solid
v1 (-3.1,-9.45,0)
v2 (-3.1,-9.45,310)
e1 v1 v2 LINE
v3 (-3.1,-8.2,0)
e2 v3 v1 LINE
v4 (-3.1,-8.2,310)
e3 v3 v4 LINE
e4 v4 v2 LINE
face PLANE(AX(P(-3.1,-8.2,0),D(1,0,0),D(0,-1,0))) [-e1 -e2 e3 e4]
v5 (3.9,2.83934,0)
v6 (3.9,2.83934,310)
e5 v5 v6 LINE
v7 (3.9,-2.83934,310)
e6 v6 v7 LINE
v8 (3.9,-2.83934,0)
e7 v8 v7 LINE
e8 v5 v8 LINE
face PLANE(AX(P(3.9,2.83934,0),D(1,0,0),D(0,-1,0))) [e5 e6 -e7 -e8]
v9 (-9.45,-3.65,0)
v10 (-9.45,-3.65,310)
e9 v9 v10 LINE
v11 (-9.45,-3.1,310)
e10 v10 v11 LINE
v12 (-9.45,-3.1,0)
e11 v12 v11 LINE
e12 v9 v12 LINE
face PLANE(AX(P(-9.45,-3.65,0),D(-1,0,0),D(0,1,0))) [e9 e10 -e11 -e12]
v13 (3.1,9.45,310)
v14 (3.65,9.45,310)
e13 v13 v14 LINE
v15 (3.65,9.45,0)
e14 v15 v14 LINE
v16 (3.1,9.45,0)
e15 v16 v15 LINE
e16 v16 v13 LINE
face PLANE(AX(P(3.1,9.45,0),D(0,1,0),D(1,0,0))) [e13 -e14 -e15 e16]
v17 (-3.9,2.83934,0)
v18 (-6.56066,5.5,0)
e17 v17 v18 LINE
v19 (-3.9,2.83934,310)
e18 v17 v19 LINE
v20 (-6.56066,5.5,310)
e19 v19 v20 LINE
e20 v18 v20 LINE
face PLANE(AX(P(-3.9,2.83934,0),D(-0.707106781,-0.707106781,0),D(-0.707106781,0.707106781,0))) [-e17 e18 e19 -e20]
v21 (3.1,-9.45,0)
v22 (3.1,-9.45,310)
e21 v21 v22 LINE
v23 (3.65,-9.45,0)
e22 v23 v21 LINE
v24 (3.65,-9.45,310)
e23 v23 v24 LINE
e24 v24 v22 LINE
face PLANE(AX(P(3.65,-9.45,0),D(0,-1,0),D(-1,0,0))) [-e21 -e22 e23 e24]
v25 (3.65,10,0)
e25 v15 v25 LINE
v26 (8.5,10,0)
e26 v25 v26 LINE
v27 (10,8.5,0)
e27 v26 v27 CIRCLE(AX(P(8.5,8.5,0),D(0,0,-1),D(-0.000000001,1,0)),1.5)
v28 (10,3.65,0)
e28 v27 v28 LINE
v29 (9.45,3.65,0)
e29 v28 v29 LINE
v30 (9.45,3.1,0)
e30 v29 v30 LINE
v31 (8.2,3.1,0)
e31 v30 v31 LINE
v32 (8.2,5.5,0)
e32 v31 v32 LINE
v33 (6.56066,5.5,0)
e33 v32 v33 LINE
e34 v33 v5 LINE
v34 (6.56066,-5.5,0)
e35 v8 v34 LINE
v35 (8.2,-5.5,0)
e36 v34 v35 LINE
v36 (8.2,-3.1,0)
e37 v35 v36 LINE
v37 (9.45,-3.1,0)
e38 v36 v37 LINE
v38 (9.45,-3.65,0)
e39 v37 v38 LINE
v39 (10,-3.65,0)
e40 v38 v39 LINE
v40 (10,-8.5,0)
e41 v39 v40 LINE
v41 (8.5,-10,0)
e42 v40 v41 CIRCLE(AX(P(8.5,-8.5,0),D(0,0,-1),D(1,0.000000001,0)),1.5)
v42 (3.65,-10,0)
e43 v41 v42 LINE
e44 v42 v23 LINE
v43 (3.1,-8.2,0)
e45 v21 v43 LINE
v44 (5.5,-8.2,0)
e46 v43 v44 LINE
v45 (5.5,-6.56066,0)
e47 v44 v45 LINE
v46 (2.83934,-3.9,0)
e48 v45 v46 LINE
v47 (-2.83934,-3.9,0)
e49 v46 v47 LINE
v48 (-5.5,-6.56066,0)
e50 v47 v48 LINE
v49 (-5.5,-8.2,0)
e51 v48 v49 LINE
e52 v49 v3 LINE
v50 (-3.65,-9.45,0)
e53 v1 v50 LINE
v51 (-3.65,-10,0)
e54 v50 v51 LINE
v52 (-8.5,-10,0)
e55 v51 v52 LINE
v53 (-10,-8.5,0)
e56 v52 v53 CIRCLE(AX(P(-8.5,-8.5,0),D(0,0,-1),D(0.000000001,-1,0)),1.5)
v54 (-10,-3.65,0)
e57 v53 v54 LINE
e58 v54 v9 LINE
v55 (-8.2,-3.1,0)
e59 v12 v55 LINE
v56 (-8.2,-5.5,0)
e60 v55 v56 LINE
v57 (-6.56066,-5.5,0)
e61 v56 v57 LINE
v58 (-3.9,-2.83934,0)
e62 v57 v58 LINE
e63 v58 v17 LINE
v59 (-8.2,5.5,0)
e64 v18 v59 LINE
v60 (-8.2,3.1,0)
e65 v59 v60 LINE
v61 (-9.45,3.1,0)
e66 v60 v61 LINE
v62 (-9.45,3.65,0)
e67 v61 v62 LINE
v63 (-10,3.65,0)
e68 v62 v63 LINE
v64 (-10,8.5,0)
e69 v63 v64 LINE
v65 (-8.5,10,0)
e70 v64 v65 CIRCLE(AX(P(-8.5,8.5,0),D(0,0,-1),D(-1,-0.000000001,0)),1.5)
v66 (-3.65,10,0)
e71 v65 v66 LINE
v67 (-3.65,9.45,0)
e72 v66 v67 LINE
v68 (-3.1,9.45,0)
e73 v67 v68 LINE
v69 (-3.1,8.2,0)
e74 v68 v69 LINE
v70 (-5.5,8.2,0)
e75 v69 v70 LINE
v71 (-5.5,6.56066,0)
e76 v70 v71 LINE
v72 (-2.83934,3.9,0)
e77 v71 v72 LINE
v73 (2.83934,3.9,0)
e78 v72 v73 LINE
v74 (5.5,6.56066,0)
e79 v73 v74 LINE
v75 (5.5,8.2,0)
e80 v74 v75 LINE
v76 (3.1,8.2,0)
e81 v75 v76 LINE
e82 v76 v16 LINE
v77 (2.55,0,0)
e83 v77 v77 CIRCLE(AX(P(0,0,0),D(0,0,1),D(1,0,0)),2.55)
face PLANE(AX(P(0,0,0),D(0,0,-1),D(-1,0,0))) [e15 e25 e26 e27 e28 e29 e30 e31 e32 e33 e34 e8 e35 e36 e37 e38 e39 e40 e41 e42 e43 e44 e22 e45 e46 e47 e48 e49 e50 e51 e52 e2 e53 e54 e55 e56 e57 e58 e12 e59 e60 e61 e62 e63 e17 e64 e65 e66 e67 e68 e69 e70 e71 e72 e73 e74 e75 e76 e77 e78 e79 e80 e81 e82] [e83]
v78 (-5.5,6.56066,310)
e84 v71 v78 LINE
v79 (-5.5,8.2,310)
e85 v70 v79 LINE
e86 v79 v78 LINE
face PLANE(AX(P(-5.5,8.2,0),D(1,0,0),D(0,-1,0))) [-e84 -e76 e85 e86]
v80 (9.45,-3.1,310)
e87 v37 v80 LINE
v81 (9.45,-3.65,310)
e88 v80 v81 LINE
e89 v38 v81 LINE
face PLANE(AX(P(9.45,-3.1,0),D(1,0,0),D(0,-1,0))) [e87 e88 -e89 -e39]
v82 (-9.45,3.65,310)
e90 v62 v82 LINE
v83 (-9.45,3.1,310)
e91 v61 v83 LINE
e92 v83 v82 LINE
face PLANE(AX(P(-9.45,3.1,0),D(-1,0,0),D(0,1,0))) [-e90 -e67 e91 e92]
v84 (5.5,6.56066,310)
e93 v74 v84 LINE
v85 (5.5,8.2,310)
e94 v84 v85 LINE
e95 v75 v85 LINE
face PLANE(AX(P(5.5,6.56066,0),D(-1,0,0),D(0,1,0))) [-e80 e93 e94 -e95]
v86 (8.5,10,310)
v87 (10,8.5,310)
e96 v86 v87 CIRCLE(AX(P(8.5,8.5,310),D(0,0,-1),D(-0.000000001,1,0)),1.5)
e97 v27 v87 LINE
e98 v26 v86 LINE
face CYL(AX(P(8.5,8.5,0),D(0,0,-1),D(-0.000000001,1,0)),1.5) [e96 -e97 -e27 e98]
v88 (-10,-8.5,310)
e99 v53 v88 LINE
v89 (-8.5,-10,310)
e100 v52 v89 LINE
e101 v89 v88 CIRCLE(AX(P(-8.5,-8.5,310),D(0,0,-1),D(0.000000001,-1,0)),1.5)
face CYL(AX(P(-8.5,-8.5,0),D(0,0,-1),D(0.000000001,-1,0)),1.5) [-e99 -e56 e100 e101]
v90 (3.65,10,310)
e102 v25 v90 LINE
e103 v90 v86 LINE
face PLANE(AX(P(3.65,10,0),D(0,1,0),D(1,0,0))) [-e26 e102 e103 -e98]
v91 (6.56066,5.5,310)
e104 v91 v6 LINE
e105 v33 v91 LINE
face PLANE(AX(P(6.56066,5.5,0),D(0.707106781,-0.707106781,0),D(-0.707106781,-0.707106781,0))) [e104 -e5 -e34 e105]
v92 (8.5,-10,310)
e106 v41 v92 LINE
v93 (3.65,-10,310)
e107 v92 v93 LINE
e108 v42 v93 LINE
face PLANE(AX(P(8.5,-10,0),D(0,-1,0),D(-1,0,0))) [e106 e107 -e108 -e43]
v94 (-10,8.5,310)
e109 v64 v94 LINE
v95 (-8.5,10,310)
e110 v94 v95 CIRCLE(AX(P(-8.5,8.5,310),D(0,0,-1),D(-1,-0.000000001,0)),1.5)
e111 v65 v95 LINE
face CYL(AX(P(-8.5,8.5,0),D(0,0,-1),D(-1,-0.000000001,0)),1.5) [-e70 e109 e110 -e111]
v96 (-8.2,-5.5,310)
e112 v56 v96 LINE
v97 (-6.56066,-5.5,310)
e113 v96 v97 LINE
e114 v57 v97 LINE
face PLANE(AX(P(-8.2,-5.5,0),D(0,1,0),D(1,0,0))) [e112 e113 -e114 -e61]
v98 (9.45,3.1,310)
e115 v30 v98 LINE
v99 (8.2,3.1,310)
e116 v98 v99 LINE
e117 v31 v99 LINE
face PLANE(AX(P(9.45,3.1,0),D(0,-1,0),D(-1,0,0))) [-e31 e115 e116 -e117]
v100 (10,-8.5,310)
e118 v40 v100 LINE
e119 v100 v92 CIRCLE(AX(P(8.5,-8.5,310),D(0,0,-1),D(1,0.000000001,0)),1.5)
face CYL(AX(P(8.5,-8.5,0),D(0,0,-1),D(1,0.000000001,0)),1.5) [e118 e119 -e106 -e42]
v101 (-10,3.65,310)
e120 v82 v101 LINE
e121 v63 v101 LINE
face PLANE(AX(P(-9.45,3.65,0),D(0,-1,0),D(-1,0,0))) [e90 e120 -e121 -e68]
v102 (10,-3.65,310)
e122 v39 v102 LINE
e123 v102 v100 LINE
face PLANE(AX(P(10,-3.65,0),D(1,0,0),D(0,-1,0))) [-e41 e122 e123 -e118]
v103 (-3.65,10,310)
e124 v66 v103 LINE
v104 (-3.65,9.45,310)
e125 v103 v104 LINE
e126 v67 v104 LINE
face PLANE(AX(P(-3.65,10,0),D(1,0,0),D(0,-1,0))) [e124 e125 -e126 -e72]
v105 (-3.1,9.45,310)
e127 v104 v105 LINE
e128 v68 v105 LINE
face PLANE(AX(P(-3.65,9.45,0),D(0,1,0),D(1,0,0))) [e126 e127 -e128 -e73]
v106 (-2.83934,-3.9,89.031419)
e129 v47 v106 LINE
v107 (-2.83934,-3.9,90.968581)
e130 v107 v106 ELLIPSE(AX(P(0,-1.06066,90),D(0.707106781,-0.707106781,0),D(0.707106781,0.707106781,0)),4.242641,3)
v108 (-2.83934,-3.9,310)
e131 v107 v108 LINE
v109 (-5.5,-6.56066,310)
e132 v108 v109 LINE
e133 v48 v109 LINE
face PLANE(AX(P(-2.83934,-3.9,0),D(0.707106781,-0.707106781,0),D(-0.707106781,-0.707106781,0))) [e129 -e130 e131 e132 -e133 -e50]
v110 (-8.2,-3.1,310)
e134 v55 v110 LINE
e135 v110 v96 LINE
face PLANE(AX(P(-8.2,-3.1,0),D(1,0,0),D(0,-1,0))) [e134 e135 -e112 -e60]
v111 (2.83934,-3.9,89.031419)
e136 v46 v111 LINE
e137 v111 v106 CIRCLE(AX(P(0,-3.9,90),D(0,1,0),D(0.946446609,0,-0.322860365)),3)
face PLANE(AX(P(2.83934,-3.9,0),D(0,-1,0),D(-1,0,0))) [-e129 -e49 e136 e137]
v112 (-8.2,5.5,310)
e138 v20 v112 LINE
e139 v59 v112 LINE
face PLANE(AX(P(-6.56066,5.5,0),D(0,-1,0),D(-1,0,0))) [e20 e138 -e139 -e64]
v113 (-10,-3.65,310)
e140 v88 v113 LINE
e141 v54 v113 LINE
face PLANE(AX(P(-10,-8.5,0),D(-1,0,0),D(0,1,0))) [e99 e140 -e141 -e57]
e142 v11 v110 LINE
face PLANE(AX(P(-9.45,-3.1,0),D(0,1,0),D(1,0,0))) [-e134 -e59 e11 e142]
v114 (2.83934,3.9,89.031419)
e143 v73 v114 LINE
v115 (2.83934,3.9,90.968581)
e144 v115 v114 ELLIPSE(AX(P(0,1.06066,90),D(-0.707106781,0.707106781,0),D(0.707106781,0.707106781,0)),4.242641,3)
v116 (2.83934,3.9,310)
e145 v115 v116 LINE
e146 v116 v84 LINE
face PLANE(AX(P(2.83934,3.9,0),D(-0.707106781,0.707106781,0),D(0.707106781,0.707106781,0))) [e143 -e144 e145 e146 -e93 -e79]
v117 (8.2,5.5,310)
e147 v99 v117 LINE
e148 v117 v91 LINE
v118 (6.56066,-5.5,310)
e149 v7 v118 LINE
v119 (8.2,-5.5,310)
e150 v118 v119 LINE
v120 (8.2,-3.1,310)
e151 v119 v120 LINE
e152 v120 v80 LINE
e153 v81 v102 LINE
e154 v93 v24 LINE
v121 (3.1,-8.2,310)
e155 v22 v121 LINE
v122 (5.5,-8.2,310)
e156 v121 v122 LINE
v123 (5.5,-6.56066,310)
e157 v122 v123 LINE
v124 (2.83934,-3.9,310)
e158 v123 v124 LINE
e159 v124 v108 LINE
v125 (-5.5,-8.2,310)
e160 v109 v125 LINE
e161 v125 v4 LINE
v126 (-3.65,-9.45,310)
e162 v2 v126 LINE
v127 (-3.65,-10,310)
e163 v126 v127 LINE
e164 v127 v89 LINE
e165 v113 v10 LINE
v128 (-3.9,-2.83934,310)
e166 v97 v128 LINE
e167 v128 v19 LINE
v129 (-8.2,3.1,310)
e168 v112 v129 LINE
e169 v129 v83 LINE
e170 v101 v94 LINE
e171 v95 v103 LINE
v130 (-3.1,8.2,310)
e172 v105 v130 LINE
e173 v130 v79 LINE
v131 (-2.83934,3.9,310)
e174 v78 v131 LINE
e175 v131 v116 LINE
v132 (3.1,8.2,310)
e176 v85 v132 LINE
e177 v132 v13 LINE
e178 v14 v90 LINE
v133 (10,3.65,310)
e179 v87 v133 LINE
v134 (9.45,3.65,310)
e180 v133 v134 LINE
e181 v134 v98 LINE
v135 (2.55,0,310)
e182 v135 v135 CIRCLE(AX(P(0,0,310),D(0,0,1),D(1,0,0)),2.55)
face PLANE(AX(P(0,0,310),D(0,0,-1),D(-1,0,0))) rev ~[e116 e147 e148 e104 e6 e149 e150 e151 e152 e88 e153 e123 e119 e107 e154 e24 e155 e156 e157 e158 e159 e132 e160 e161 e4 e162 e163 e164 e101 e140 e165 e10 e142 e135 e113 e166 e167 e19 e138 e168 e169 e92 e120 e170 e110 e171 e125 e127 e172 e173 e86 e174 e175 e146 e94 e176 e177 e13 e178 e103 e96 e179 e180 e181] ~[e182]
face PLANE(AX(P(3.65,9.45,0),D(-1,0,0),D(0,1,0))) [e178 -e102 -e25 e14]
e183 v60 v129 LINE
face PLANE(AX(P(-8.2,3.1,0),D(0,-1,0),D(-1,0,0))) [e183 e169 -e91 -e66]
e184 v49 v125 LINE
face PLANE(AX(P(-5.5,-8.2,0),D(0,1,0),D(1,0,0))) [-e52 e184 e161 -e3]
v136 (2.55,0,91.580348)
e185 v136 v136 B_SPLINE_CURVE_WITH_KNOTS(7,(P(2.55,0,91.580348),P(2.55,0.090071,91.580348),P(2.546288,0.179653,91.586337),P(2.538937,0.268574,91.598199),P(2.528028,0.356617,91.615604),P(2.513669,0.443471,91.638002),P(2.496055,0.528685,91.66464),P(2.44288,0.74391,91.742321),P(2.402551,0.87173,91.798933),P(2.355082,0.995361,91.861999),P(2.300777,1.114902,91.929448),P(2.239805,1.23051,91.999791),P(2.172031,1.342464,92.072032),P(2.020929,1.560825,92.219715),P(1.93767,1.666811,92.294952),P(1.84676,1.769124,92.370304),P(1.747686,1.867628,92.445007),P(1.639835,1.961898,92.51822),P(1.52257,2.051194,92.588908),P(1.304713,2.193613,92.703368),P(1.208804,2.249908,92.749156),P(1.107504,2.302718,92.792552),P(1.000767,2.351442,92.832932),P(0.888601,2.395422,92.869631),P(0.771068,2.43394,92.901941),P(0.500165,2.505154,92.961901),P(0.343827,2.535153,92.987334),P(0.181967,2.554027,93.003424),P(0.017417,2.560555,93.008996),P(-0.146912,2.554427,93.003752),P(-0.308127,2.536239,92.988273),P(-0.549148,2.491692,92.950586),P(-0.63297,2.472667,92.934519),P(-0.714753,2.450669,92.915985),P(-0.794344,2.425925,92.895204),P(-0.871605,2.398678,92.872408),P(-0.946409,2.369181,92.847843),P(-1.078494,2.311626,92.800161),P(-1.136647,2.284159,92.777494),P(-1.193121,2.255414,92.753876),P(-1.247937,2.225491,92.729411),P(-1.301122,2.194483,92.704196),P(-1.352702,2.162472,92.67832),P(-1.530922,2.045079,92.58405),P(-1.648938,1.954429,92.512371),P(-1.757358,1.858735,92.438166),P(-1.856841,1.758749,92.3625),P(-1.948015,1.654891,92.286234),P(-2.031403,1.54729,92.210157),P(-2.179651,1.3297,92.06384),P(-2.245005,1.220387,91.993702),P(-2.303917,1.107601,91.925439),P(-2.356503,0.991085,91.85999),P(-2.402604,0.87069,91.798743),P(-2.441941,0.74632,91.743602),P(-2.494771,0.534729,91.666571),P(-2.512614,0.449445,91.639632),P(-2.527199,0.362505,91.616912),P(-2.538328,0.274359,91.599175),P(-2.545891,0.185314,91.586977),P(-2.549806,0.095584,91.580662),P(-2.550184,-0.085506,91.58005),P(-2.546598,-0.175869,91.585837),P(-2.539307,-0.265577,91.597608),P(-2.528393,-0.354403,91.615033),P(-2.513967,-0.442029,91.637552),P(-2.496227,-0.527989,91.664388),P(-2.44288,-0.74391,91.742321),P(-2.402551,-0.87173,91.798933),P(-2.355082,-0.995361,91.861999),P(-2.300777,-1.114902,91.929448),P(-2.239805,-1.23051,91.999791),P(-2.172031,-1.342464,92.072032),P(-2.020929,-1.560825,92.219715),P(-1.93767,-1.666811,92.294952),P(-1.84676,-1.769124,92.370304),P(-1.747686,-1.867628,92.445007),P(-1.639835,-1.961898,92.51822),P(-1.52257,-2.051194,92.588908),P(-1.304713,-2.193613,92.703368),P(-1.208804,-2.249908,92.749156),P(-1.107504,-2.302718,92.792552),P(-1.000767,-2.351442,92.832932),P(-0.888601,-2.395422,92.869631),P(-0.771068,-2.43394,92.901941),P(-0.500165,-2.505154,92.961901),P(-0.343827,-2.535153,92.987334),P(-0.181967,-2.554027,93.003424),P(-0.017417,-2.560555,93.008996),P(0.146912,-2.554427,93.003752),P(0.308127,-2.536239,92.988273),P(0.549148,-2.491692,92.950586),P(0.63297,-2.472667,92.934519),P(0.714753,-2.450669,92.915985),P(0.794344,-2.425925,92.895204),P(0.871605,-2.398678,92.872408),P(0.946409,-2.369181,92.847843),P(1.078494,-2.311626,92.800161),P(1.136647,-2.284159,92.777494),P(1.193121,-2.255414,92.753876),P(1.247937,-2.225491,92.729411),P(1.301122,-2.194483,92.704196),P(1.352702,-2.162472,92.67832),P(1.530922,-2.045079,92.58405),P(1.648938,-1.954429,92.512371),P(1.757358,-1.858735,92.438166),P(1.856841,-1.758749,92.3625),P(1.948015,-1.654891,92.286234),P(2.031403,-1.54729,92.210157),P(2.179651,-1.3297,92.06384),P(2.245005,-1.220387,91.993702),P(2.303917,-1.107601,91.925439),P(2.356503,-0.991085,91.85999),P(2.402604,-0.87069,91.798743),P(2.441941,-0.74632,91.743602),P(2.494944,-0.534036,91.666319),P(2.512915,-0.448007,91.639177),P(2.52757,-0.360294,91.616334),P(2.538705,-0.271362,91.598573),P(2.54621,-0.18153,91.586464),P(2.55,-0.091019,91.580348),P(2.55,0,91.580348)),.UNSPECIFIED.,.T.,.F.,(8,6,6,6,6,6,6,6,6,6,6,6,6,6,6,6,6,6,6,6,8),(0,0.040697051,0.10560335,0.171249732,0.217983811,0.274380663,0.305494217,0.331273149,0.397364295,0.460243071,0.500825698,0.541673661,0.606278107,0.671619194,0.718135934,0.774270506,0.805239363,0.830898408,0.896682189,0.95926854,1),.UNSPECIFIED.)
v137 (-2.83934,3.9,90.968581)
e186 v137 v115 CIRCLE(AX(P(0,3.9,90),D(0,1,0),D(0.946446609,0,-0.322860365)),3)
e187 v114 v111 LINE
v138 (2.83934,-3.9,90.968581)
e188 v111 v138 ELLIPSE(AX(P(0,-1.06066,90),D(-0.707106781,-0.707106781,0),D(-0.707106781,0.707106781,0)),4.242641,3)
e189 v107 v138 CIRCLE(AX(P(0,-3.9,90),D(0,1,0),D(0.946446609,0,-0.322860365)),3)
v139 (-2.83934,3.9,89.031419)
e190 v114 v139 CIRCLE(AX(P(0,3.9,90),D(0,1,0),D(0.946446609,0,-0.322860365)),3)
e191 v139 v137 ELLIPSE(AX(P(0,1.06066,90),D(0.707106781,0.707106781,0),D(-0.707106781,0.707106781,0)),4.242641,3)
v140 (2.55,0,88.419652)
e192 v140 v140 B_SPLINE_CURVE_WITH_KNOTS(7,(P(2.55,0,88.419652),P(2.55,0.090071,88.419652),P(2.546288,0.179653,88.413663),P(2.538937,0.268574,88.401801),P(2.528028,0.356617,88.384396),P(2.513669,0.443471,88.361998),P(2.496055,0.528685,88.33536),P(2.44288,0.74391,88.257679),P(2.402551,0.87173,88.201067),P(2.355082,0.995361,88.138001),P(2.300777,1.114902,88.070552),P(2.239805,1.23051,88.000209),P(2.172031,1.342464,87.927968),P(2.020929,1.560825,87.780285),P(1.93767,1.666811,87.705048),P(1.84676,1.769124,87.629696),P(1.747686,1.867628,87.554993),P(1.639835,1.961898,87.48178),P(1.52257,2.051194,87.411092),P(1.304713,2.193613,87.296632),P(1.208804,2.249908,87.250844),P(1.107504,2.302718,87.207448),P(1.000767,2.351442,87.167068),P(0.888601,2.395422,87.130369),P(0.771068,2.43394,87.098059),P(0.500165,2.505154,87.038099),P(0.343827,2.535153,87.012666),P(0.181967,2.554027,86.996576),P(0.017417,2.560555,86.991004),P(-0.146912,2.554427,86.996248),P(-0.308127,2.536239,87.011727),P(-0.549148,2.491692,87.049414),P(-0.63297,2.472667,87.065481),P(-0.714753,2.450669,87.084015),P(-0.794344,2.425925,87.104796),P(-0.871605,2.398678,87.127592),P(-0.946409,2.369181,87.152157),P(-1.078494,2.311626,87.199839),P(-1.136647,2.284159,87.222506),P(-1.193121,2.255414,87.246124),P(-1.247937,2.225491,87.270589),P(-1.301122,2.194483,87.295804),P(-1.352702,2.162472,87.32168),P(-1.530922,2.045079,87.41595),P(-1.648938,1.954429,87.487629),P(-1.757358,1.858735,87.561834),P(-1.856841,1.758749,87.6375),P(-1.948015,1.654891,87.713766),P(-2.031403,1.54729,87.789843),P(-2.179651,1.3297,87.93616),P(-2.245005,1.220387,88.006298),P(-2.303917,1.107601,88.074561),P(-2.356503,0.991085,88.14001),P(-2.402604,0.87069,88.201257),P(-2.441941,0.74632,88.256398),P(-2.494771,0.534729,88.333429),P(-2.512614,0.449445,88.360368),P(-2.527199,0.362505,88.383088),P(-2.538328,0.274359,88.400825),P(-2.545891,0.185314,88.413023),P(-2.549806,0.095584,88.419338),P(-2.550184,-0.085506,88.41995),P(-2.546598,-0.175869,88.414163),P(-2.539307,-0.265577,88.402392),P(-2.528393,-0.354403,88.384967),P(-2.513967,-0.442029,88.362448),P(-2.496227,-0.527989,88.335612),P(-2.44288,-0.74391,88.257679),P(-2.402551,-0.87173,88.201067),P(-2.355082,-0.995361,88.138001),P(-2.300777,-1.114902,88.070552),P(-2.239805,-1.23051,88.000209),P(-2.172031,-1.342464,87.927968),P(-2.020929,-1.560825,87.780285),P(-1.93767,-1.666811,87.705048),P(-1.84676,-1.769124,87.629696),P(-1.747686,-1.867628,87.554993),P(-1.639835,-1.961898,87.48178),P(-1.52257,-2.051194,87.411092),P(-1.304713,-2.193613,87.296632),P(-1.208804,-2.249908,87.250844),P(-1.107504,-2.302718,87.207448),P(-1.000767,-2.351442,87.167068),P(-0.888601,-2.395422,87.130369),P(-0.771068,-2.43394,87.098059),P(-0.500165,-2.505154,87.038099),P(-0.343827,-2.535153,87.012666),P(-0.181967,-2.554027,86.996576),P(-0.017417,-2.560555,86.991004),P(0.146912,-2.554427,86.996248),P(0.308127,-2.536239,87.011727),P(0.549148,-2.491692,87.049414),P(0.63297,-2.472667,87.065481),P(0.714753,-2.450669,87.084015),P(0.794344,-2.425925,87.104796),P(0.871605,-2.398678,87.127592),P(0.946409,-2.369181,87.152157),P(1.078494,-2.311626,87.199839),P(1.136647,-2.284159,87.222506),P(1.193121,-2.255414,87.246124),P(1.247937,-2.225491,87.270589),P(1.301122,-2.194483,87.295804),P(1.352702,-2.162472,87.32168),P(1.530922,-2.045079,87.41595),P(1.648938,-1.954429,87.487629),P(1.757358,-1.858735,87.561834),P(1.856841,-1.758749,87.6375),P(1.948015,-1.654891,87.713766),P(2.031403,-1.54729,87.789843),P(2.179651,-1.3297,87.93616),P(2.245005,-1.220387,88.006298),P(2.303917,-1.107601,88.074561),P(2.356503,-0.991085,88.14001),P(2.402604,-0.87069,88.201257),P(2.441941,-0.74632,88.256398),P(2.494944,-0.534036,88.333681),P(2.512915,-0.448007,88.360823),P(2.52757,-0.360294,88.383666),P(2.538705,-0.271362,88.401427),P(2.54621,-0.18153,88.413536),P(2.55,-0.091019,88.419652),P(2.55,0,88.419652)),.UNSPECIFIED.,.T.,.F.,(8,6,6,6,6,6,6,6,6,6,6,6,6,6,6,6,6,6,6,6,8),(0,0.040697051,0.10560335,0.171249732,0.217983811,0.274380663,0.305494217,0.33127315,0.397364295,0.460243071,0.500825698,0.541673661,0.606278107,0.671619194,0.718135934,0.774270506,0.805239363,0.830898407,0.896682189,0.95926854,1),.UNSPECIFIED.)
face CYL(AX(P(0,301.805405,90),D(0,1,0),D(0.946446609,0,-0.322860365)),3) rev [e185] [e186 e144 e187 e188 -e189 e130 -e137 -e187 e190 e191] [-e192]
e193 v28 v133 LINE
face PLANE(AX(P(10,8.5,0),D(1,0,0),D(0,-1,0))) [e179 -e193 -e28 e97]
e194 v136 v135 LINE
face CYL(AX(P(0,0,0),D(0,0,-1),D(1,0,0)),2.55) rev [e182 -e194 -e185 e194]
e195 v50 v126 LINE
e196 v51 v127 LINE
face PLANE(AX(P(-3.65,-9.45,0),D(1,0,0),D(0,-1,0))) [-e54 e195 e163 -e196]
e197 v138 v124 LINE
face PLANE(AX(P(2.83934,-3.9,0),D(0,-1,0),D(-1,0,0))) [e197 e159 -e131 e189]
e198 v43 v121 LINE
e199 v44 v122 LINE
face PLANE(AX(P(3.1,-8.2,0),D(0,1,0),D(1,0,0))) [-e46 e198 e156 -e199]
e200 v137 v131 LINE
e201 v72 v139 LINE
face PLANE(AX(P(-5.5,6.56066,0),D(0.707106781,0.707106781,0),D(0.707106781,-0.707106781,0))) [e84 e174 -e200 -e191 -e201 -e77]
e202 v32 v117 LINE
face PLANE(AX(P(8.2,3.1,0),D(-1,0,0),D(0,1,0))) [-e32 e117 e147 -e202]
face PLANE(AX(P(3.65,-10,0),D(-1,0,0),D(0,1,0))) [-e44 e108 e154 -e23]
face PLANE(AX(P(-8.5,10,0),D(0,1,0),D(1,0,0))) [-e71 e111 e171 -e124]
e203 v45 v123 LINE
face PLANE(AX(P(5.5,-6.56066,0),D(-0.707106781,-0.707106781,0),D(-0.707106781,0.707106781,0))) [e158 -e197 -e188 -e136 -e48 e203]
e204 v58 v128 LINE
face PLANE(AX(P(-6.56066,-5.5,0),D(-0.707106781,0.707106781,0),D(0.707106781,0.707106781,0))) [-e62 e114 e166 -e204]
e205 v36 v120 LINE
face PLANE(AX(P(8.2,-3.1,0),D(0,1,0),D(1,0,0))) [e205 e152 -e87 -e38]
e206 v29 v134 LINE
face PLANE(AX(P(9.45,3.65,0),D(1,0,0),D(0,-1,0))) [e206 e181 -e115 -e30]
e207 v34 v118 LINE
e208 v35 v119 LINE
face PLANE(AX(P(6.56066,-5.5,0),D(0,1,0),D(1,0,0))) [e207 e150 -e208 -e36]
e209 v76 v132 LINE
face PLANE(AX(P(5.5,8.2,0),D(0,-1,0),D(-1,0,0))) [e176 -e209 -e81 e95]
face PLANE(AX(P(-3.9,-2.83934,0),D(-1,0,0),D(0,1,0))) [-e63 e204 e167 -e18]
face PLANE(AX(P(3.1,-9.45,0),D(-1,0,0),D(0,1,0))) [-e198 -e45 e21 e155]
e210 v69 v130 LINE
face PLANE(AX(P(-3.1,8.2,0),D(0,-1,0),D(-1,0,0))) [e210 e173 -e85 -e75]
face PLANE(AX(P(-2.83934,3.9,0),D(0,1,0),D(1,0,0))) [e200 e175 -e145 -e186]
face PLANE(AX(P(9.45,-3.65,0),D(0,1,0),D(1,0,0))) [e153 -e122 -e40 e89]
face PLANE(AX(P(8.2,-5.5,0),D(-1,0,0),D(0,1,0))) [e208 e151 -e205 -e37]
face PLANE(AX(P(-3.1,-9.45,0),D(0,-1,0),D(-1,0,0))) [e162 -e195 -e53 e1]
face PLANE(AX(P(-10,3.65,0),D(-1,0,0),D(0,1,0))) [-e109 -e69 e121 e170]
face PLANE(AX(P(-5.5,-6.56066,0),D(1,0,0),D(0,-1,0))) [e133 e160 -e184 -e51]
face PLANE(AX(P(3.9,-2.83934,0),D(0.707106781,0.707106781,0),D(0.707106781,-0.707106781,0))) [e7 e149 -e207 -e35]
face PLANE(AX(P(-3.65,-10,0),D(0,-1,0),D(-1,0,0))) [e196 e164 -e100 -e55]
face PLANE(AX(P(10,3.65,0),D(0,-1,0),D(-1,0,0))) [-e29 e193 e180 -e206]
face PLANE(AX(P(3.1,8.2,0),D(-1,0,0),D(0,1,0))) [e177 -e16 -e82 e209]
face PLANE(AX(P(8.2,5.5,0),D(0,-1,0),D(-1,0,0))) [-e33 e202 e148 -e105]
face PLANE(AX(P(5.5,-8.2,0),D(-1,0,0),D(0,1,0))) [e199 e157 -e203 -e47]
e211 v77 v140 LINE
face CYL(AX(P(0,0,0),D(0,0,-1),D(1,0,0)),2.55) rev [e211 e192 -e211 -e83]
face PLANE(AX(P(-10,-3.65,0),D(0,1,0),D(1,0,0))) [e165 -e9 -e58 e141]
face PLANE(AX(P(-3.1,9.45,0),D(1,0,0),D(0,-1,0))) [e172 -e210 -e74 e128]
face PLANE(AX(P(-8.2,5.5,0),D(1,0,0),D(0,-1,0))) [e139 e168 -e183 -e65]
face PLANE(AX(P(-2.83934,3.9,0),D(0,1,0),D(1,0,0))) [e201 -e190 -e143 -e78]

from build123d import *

# Parameters (mm, degrees)
SKETCH_2_R               = 2.55
EXTRUDE_1_DEPTH          = 310
CUT_EXTRUDE_1_DEPTH      = 311.805405358
CUT_EXTRUDE_1_DEPTH_BACK = 311.805405358
SKETCH_3_R               = 3


with BuildPart() as part:
    # 草图2 → 凸台-拉伸1 (new body)
    with BuildSketch(Plane.XY):
        with BuildLine():
            Line((-3.9, 2.839339828), (-6.560660172, 5.5))
            Line((-6.560660172, 5.5), (-8.2, 5.5))
            Line((-8.2, 5.5), (-8.2, 3.1))
            Line((-8.2, 3.1), (-9.45, 3.1))
            Line((-9.45, 3.1), (-9.45, 3.65))
            Line((-9.45, 3.65), (-10, 3.65))
            Line((-10, 3.65), (-10, 8.5))
            ThreePointArc((-10, 8.5), (-9.560660172, 9.560660172), (-8.5, 10))
            Line((-8.5, 10), (-3.65, 10))
            Line((-3.65, 10), (-3.65, 9.45))
            Line((-3.65, 9.45), (-3.1, 9.45))
            Line((-3.1, 9.45), (-3.1, 8.2))
            Line((-3.1, 8.2), (-5.5, 8.2))
            Line((-5.5, 8.2), (-5.5, 6.560660172))
            Line((-5.5, 6.560660172), (-2.839339828, 3.9))
            Line((-2.839339828, 3.9), (2.839339828, 3.9))
            Line((2.839339828, 3.9), (5.5, 6.560660172))
            Line((5.5, 6.560660172), (5.5, 8.2))
            Line((5.5, 8.2), (3.1, 8.2))
            Line((3.1, 8.2), (3.1, 9.45))
            Line((3.1, 9.45), (3.65, 9.45))
            Line((3.65, 9.45), (3.65, 10))
            Line((3.65, 10), (8.5, 10))
            ThreePointArc((8.5, 10), (9.560660172, 9.560660172), (10, 8.5))
            Line((10, 8.5), (10, 3.65))
            Line((10, 3.65), (9.45, 3.65))
            Line((9.45, 3.65), (9.45, 3.1))
            Line((9.45, 3.1), (8.2, 3.1))
            Line((8.2, 3.1), (8.2, 5.5))
            Line((8.2, 5.5), (6.560660172, 5.5))
            Line((6.560660172, 5.5), (3.9, 2.839339828))
            Line((3.9, 2.839339828), (3.9, -2.839339828))
            Line((3.9, -2.839339828), (6.560660172, -5.5))
            Line((6.560660172, -5.5), (8.2, -5.5))
            Line((8.2, -5.5), (8.2, -3.1))
            Line((8.2, -3.1), (9.45, -3.1))
            Line((9.45, -3.1), (9.45, -3.65))
            Line((9.45, -3.65), (10, -3.65))
            Line((10, -3.65), (10, -8.5))
            ThreePointArc((10, -8.5), (9.560660172, -9.560660172), (8.5, -10))
            Line((8.5, -10), (3.65, -10))
            Line((3.65, -10), (3.65, -9.45))
            Line((3.65, -9.45), (3.1, -9.45))
            Line((3.1, -9.45), (3.1, -8.2))
            Line((3.1, -8.2), (5.5, -8.2))
            Line((5.5, -8.2), (5.5, -6.560660172))
            Line((5.5, -6.560660172), (2.839339828, -3.9))
            Line((2.839339828, -3.9), (-2.839339828, -3.9))
            Line((-2.839339828, -3.9), (-5.5, -6.560660172))
            Line((-5.5, -6.560660172), (-5.5, -8.2))
            Line((-5.5, -8.2), (-3.1, -8.2))
            Line((-3.1, -8.2), (-3.1, -9.45))
            Line((-3.1, -9.45), (-3.65, -9.45))
            Line((-3.65, -9.45), (-3.65, -10))
            Line((-3.65, -10), (-8.5, -10))
            ThreePointArc((-8.5, -10), (-9.560660172, -9.560660172), (-10, -8.5))
            Line((-10, -8.5), (-10, -3.65))
            Line((-10, -3.65), (-9.45, -3.65))
            Line((-9.45, -3.65), (-9.45, -3.1))
            Line((-9.45, -3.1), (-8.2, -3.1))
            Line((-8.2, -3.1), (-8.2, -5.5))
            Line((-8.2, -5.5), (-6.560660172, -5.5))
            Line((-6.560660172, -5.5), (-3.9, -2.839339828))
            Line((-3.9, -2.839339828), (-3.9, 2.839339828))
        make_face()
        Circle(SKETCH_2_R, mode=Mode.SUBTRACT)
    extrude(amount=EXTRUDE_1_DEPTH)

    # 草图3 → 切除-拉伸1 (cut, two sides: drawn at the far end of the back side and taken through both)
    with BuildSketch(Plane.XZ.offset(10).offset(-CUT_EXTRUDE_1_DEPTH_BACK)):
        with Locations(Location((0, 90, 0), (0, 0, 341.164003842))):
            Circle(SKETCH_3_R)
    extrude(amount=CUT_EXTRUDE_1_DEPTH + CUT_EXTRUDE_1_DEPTH_BACK, mode=Mode.SUBTRACT)


solid = part.part
